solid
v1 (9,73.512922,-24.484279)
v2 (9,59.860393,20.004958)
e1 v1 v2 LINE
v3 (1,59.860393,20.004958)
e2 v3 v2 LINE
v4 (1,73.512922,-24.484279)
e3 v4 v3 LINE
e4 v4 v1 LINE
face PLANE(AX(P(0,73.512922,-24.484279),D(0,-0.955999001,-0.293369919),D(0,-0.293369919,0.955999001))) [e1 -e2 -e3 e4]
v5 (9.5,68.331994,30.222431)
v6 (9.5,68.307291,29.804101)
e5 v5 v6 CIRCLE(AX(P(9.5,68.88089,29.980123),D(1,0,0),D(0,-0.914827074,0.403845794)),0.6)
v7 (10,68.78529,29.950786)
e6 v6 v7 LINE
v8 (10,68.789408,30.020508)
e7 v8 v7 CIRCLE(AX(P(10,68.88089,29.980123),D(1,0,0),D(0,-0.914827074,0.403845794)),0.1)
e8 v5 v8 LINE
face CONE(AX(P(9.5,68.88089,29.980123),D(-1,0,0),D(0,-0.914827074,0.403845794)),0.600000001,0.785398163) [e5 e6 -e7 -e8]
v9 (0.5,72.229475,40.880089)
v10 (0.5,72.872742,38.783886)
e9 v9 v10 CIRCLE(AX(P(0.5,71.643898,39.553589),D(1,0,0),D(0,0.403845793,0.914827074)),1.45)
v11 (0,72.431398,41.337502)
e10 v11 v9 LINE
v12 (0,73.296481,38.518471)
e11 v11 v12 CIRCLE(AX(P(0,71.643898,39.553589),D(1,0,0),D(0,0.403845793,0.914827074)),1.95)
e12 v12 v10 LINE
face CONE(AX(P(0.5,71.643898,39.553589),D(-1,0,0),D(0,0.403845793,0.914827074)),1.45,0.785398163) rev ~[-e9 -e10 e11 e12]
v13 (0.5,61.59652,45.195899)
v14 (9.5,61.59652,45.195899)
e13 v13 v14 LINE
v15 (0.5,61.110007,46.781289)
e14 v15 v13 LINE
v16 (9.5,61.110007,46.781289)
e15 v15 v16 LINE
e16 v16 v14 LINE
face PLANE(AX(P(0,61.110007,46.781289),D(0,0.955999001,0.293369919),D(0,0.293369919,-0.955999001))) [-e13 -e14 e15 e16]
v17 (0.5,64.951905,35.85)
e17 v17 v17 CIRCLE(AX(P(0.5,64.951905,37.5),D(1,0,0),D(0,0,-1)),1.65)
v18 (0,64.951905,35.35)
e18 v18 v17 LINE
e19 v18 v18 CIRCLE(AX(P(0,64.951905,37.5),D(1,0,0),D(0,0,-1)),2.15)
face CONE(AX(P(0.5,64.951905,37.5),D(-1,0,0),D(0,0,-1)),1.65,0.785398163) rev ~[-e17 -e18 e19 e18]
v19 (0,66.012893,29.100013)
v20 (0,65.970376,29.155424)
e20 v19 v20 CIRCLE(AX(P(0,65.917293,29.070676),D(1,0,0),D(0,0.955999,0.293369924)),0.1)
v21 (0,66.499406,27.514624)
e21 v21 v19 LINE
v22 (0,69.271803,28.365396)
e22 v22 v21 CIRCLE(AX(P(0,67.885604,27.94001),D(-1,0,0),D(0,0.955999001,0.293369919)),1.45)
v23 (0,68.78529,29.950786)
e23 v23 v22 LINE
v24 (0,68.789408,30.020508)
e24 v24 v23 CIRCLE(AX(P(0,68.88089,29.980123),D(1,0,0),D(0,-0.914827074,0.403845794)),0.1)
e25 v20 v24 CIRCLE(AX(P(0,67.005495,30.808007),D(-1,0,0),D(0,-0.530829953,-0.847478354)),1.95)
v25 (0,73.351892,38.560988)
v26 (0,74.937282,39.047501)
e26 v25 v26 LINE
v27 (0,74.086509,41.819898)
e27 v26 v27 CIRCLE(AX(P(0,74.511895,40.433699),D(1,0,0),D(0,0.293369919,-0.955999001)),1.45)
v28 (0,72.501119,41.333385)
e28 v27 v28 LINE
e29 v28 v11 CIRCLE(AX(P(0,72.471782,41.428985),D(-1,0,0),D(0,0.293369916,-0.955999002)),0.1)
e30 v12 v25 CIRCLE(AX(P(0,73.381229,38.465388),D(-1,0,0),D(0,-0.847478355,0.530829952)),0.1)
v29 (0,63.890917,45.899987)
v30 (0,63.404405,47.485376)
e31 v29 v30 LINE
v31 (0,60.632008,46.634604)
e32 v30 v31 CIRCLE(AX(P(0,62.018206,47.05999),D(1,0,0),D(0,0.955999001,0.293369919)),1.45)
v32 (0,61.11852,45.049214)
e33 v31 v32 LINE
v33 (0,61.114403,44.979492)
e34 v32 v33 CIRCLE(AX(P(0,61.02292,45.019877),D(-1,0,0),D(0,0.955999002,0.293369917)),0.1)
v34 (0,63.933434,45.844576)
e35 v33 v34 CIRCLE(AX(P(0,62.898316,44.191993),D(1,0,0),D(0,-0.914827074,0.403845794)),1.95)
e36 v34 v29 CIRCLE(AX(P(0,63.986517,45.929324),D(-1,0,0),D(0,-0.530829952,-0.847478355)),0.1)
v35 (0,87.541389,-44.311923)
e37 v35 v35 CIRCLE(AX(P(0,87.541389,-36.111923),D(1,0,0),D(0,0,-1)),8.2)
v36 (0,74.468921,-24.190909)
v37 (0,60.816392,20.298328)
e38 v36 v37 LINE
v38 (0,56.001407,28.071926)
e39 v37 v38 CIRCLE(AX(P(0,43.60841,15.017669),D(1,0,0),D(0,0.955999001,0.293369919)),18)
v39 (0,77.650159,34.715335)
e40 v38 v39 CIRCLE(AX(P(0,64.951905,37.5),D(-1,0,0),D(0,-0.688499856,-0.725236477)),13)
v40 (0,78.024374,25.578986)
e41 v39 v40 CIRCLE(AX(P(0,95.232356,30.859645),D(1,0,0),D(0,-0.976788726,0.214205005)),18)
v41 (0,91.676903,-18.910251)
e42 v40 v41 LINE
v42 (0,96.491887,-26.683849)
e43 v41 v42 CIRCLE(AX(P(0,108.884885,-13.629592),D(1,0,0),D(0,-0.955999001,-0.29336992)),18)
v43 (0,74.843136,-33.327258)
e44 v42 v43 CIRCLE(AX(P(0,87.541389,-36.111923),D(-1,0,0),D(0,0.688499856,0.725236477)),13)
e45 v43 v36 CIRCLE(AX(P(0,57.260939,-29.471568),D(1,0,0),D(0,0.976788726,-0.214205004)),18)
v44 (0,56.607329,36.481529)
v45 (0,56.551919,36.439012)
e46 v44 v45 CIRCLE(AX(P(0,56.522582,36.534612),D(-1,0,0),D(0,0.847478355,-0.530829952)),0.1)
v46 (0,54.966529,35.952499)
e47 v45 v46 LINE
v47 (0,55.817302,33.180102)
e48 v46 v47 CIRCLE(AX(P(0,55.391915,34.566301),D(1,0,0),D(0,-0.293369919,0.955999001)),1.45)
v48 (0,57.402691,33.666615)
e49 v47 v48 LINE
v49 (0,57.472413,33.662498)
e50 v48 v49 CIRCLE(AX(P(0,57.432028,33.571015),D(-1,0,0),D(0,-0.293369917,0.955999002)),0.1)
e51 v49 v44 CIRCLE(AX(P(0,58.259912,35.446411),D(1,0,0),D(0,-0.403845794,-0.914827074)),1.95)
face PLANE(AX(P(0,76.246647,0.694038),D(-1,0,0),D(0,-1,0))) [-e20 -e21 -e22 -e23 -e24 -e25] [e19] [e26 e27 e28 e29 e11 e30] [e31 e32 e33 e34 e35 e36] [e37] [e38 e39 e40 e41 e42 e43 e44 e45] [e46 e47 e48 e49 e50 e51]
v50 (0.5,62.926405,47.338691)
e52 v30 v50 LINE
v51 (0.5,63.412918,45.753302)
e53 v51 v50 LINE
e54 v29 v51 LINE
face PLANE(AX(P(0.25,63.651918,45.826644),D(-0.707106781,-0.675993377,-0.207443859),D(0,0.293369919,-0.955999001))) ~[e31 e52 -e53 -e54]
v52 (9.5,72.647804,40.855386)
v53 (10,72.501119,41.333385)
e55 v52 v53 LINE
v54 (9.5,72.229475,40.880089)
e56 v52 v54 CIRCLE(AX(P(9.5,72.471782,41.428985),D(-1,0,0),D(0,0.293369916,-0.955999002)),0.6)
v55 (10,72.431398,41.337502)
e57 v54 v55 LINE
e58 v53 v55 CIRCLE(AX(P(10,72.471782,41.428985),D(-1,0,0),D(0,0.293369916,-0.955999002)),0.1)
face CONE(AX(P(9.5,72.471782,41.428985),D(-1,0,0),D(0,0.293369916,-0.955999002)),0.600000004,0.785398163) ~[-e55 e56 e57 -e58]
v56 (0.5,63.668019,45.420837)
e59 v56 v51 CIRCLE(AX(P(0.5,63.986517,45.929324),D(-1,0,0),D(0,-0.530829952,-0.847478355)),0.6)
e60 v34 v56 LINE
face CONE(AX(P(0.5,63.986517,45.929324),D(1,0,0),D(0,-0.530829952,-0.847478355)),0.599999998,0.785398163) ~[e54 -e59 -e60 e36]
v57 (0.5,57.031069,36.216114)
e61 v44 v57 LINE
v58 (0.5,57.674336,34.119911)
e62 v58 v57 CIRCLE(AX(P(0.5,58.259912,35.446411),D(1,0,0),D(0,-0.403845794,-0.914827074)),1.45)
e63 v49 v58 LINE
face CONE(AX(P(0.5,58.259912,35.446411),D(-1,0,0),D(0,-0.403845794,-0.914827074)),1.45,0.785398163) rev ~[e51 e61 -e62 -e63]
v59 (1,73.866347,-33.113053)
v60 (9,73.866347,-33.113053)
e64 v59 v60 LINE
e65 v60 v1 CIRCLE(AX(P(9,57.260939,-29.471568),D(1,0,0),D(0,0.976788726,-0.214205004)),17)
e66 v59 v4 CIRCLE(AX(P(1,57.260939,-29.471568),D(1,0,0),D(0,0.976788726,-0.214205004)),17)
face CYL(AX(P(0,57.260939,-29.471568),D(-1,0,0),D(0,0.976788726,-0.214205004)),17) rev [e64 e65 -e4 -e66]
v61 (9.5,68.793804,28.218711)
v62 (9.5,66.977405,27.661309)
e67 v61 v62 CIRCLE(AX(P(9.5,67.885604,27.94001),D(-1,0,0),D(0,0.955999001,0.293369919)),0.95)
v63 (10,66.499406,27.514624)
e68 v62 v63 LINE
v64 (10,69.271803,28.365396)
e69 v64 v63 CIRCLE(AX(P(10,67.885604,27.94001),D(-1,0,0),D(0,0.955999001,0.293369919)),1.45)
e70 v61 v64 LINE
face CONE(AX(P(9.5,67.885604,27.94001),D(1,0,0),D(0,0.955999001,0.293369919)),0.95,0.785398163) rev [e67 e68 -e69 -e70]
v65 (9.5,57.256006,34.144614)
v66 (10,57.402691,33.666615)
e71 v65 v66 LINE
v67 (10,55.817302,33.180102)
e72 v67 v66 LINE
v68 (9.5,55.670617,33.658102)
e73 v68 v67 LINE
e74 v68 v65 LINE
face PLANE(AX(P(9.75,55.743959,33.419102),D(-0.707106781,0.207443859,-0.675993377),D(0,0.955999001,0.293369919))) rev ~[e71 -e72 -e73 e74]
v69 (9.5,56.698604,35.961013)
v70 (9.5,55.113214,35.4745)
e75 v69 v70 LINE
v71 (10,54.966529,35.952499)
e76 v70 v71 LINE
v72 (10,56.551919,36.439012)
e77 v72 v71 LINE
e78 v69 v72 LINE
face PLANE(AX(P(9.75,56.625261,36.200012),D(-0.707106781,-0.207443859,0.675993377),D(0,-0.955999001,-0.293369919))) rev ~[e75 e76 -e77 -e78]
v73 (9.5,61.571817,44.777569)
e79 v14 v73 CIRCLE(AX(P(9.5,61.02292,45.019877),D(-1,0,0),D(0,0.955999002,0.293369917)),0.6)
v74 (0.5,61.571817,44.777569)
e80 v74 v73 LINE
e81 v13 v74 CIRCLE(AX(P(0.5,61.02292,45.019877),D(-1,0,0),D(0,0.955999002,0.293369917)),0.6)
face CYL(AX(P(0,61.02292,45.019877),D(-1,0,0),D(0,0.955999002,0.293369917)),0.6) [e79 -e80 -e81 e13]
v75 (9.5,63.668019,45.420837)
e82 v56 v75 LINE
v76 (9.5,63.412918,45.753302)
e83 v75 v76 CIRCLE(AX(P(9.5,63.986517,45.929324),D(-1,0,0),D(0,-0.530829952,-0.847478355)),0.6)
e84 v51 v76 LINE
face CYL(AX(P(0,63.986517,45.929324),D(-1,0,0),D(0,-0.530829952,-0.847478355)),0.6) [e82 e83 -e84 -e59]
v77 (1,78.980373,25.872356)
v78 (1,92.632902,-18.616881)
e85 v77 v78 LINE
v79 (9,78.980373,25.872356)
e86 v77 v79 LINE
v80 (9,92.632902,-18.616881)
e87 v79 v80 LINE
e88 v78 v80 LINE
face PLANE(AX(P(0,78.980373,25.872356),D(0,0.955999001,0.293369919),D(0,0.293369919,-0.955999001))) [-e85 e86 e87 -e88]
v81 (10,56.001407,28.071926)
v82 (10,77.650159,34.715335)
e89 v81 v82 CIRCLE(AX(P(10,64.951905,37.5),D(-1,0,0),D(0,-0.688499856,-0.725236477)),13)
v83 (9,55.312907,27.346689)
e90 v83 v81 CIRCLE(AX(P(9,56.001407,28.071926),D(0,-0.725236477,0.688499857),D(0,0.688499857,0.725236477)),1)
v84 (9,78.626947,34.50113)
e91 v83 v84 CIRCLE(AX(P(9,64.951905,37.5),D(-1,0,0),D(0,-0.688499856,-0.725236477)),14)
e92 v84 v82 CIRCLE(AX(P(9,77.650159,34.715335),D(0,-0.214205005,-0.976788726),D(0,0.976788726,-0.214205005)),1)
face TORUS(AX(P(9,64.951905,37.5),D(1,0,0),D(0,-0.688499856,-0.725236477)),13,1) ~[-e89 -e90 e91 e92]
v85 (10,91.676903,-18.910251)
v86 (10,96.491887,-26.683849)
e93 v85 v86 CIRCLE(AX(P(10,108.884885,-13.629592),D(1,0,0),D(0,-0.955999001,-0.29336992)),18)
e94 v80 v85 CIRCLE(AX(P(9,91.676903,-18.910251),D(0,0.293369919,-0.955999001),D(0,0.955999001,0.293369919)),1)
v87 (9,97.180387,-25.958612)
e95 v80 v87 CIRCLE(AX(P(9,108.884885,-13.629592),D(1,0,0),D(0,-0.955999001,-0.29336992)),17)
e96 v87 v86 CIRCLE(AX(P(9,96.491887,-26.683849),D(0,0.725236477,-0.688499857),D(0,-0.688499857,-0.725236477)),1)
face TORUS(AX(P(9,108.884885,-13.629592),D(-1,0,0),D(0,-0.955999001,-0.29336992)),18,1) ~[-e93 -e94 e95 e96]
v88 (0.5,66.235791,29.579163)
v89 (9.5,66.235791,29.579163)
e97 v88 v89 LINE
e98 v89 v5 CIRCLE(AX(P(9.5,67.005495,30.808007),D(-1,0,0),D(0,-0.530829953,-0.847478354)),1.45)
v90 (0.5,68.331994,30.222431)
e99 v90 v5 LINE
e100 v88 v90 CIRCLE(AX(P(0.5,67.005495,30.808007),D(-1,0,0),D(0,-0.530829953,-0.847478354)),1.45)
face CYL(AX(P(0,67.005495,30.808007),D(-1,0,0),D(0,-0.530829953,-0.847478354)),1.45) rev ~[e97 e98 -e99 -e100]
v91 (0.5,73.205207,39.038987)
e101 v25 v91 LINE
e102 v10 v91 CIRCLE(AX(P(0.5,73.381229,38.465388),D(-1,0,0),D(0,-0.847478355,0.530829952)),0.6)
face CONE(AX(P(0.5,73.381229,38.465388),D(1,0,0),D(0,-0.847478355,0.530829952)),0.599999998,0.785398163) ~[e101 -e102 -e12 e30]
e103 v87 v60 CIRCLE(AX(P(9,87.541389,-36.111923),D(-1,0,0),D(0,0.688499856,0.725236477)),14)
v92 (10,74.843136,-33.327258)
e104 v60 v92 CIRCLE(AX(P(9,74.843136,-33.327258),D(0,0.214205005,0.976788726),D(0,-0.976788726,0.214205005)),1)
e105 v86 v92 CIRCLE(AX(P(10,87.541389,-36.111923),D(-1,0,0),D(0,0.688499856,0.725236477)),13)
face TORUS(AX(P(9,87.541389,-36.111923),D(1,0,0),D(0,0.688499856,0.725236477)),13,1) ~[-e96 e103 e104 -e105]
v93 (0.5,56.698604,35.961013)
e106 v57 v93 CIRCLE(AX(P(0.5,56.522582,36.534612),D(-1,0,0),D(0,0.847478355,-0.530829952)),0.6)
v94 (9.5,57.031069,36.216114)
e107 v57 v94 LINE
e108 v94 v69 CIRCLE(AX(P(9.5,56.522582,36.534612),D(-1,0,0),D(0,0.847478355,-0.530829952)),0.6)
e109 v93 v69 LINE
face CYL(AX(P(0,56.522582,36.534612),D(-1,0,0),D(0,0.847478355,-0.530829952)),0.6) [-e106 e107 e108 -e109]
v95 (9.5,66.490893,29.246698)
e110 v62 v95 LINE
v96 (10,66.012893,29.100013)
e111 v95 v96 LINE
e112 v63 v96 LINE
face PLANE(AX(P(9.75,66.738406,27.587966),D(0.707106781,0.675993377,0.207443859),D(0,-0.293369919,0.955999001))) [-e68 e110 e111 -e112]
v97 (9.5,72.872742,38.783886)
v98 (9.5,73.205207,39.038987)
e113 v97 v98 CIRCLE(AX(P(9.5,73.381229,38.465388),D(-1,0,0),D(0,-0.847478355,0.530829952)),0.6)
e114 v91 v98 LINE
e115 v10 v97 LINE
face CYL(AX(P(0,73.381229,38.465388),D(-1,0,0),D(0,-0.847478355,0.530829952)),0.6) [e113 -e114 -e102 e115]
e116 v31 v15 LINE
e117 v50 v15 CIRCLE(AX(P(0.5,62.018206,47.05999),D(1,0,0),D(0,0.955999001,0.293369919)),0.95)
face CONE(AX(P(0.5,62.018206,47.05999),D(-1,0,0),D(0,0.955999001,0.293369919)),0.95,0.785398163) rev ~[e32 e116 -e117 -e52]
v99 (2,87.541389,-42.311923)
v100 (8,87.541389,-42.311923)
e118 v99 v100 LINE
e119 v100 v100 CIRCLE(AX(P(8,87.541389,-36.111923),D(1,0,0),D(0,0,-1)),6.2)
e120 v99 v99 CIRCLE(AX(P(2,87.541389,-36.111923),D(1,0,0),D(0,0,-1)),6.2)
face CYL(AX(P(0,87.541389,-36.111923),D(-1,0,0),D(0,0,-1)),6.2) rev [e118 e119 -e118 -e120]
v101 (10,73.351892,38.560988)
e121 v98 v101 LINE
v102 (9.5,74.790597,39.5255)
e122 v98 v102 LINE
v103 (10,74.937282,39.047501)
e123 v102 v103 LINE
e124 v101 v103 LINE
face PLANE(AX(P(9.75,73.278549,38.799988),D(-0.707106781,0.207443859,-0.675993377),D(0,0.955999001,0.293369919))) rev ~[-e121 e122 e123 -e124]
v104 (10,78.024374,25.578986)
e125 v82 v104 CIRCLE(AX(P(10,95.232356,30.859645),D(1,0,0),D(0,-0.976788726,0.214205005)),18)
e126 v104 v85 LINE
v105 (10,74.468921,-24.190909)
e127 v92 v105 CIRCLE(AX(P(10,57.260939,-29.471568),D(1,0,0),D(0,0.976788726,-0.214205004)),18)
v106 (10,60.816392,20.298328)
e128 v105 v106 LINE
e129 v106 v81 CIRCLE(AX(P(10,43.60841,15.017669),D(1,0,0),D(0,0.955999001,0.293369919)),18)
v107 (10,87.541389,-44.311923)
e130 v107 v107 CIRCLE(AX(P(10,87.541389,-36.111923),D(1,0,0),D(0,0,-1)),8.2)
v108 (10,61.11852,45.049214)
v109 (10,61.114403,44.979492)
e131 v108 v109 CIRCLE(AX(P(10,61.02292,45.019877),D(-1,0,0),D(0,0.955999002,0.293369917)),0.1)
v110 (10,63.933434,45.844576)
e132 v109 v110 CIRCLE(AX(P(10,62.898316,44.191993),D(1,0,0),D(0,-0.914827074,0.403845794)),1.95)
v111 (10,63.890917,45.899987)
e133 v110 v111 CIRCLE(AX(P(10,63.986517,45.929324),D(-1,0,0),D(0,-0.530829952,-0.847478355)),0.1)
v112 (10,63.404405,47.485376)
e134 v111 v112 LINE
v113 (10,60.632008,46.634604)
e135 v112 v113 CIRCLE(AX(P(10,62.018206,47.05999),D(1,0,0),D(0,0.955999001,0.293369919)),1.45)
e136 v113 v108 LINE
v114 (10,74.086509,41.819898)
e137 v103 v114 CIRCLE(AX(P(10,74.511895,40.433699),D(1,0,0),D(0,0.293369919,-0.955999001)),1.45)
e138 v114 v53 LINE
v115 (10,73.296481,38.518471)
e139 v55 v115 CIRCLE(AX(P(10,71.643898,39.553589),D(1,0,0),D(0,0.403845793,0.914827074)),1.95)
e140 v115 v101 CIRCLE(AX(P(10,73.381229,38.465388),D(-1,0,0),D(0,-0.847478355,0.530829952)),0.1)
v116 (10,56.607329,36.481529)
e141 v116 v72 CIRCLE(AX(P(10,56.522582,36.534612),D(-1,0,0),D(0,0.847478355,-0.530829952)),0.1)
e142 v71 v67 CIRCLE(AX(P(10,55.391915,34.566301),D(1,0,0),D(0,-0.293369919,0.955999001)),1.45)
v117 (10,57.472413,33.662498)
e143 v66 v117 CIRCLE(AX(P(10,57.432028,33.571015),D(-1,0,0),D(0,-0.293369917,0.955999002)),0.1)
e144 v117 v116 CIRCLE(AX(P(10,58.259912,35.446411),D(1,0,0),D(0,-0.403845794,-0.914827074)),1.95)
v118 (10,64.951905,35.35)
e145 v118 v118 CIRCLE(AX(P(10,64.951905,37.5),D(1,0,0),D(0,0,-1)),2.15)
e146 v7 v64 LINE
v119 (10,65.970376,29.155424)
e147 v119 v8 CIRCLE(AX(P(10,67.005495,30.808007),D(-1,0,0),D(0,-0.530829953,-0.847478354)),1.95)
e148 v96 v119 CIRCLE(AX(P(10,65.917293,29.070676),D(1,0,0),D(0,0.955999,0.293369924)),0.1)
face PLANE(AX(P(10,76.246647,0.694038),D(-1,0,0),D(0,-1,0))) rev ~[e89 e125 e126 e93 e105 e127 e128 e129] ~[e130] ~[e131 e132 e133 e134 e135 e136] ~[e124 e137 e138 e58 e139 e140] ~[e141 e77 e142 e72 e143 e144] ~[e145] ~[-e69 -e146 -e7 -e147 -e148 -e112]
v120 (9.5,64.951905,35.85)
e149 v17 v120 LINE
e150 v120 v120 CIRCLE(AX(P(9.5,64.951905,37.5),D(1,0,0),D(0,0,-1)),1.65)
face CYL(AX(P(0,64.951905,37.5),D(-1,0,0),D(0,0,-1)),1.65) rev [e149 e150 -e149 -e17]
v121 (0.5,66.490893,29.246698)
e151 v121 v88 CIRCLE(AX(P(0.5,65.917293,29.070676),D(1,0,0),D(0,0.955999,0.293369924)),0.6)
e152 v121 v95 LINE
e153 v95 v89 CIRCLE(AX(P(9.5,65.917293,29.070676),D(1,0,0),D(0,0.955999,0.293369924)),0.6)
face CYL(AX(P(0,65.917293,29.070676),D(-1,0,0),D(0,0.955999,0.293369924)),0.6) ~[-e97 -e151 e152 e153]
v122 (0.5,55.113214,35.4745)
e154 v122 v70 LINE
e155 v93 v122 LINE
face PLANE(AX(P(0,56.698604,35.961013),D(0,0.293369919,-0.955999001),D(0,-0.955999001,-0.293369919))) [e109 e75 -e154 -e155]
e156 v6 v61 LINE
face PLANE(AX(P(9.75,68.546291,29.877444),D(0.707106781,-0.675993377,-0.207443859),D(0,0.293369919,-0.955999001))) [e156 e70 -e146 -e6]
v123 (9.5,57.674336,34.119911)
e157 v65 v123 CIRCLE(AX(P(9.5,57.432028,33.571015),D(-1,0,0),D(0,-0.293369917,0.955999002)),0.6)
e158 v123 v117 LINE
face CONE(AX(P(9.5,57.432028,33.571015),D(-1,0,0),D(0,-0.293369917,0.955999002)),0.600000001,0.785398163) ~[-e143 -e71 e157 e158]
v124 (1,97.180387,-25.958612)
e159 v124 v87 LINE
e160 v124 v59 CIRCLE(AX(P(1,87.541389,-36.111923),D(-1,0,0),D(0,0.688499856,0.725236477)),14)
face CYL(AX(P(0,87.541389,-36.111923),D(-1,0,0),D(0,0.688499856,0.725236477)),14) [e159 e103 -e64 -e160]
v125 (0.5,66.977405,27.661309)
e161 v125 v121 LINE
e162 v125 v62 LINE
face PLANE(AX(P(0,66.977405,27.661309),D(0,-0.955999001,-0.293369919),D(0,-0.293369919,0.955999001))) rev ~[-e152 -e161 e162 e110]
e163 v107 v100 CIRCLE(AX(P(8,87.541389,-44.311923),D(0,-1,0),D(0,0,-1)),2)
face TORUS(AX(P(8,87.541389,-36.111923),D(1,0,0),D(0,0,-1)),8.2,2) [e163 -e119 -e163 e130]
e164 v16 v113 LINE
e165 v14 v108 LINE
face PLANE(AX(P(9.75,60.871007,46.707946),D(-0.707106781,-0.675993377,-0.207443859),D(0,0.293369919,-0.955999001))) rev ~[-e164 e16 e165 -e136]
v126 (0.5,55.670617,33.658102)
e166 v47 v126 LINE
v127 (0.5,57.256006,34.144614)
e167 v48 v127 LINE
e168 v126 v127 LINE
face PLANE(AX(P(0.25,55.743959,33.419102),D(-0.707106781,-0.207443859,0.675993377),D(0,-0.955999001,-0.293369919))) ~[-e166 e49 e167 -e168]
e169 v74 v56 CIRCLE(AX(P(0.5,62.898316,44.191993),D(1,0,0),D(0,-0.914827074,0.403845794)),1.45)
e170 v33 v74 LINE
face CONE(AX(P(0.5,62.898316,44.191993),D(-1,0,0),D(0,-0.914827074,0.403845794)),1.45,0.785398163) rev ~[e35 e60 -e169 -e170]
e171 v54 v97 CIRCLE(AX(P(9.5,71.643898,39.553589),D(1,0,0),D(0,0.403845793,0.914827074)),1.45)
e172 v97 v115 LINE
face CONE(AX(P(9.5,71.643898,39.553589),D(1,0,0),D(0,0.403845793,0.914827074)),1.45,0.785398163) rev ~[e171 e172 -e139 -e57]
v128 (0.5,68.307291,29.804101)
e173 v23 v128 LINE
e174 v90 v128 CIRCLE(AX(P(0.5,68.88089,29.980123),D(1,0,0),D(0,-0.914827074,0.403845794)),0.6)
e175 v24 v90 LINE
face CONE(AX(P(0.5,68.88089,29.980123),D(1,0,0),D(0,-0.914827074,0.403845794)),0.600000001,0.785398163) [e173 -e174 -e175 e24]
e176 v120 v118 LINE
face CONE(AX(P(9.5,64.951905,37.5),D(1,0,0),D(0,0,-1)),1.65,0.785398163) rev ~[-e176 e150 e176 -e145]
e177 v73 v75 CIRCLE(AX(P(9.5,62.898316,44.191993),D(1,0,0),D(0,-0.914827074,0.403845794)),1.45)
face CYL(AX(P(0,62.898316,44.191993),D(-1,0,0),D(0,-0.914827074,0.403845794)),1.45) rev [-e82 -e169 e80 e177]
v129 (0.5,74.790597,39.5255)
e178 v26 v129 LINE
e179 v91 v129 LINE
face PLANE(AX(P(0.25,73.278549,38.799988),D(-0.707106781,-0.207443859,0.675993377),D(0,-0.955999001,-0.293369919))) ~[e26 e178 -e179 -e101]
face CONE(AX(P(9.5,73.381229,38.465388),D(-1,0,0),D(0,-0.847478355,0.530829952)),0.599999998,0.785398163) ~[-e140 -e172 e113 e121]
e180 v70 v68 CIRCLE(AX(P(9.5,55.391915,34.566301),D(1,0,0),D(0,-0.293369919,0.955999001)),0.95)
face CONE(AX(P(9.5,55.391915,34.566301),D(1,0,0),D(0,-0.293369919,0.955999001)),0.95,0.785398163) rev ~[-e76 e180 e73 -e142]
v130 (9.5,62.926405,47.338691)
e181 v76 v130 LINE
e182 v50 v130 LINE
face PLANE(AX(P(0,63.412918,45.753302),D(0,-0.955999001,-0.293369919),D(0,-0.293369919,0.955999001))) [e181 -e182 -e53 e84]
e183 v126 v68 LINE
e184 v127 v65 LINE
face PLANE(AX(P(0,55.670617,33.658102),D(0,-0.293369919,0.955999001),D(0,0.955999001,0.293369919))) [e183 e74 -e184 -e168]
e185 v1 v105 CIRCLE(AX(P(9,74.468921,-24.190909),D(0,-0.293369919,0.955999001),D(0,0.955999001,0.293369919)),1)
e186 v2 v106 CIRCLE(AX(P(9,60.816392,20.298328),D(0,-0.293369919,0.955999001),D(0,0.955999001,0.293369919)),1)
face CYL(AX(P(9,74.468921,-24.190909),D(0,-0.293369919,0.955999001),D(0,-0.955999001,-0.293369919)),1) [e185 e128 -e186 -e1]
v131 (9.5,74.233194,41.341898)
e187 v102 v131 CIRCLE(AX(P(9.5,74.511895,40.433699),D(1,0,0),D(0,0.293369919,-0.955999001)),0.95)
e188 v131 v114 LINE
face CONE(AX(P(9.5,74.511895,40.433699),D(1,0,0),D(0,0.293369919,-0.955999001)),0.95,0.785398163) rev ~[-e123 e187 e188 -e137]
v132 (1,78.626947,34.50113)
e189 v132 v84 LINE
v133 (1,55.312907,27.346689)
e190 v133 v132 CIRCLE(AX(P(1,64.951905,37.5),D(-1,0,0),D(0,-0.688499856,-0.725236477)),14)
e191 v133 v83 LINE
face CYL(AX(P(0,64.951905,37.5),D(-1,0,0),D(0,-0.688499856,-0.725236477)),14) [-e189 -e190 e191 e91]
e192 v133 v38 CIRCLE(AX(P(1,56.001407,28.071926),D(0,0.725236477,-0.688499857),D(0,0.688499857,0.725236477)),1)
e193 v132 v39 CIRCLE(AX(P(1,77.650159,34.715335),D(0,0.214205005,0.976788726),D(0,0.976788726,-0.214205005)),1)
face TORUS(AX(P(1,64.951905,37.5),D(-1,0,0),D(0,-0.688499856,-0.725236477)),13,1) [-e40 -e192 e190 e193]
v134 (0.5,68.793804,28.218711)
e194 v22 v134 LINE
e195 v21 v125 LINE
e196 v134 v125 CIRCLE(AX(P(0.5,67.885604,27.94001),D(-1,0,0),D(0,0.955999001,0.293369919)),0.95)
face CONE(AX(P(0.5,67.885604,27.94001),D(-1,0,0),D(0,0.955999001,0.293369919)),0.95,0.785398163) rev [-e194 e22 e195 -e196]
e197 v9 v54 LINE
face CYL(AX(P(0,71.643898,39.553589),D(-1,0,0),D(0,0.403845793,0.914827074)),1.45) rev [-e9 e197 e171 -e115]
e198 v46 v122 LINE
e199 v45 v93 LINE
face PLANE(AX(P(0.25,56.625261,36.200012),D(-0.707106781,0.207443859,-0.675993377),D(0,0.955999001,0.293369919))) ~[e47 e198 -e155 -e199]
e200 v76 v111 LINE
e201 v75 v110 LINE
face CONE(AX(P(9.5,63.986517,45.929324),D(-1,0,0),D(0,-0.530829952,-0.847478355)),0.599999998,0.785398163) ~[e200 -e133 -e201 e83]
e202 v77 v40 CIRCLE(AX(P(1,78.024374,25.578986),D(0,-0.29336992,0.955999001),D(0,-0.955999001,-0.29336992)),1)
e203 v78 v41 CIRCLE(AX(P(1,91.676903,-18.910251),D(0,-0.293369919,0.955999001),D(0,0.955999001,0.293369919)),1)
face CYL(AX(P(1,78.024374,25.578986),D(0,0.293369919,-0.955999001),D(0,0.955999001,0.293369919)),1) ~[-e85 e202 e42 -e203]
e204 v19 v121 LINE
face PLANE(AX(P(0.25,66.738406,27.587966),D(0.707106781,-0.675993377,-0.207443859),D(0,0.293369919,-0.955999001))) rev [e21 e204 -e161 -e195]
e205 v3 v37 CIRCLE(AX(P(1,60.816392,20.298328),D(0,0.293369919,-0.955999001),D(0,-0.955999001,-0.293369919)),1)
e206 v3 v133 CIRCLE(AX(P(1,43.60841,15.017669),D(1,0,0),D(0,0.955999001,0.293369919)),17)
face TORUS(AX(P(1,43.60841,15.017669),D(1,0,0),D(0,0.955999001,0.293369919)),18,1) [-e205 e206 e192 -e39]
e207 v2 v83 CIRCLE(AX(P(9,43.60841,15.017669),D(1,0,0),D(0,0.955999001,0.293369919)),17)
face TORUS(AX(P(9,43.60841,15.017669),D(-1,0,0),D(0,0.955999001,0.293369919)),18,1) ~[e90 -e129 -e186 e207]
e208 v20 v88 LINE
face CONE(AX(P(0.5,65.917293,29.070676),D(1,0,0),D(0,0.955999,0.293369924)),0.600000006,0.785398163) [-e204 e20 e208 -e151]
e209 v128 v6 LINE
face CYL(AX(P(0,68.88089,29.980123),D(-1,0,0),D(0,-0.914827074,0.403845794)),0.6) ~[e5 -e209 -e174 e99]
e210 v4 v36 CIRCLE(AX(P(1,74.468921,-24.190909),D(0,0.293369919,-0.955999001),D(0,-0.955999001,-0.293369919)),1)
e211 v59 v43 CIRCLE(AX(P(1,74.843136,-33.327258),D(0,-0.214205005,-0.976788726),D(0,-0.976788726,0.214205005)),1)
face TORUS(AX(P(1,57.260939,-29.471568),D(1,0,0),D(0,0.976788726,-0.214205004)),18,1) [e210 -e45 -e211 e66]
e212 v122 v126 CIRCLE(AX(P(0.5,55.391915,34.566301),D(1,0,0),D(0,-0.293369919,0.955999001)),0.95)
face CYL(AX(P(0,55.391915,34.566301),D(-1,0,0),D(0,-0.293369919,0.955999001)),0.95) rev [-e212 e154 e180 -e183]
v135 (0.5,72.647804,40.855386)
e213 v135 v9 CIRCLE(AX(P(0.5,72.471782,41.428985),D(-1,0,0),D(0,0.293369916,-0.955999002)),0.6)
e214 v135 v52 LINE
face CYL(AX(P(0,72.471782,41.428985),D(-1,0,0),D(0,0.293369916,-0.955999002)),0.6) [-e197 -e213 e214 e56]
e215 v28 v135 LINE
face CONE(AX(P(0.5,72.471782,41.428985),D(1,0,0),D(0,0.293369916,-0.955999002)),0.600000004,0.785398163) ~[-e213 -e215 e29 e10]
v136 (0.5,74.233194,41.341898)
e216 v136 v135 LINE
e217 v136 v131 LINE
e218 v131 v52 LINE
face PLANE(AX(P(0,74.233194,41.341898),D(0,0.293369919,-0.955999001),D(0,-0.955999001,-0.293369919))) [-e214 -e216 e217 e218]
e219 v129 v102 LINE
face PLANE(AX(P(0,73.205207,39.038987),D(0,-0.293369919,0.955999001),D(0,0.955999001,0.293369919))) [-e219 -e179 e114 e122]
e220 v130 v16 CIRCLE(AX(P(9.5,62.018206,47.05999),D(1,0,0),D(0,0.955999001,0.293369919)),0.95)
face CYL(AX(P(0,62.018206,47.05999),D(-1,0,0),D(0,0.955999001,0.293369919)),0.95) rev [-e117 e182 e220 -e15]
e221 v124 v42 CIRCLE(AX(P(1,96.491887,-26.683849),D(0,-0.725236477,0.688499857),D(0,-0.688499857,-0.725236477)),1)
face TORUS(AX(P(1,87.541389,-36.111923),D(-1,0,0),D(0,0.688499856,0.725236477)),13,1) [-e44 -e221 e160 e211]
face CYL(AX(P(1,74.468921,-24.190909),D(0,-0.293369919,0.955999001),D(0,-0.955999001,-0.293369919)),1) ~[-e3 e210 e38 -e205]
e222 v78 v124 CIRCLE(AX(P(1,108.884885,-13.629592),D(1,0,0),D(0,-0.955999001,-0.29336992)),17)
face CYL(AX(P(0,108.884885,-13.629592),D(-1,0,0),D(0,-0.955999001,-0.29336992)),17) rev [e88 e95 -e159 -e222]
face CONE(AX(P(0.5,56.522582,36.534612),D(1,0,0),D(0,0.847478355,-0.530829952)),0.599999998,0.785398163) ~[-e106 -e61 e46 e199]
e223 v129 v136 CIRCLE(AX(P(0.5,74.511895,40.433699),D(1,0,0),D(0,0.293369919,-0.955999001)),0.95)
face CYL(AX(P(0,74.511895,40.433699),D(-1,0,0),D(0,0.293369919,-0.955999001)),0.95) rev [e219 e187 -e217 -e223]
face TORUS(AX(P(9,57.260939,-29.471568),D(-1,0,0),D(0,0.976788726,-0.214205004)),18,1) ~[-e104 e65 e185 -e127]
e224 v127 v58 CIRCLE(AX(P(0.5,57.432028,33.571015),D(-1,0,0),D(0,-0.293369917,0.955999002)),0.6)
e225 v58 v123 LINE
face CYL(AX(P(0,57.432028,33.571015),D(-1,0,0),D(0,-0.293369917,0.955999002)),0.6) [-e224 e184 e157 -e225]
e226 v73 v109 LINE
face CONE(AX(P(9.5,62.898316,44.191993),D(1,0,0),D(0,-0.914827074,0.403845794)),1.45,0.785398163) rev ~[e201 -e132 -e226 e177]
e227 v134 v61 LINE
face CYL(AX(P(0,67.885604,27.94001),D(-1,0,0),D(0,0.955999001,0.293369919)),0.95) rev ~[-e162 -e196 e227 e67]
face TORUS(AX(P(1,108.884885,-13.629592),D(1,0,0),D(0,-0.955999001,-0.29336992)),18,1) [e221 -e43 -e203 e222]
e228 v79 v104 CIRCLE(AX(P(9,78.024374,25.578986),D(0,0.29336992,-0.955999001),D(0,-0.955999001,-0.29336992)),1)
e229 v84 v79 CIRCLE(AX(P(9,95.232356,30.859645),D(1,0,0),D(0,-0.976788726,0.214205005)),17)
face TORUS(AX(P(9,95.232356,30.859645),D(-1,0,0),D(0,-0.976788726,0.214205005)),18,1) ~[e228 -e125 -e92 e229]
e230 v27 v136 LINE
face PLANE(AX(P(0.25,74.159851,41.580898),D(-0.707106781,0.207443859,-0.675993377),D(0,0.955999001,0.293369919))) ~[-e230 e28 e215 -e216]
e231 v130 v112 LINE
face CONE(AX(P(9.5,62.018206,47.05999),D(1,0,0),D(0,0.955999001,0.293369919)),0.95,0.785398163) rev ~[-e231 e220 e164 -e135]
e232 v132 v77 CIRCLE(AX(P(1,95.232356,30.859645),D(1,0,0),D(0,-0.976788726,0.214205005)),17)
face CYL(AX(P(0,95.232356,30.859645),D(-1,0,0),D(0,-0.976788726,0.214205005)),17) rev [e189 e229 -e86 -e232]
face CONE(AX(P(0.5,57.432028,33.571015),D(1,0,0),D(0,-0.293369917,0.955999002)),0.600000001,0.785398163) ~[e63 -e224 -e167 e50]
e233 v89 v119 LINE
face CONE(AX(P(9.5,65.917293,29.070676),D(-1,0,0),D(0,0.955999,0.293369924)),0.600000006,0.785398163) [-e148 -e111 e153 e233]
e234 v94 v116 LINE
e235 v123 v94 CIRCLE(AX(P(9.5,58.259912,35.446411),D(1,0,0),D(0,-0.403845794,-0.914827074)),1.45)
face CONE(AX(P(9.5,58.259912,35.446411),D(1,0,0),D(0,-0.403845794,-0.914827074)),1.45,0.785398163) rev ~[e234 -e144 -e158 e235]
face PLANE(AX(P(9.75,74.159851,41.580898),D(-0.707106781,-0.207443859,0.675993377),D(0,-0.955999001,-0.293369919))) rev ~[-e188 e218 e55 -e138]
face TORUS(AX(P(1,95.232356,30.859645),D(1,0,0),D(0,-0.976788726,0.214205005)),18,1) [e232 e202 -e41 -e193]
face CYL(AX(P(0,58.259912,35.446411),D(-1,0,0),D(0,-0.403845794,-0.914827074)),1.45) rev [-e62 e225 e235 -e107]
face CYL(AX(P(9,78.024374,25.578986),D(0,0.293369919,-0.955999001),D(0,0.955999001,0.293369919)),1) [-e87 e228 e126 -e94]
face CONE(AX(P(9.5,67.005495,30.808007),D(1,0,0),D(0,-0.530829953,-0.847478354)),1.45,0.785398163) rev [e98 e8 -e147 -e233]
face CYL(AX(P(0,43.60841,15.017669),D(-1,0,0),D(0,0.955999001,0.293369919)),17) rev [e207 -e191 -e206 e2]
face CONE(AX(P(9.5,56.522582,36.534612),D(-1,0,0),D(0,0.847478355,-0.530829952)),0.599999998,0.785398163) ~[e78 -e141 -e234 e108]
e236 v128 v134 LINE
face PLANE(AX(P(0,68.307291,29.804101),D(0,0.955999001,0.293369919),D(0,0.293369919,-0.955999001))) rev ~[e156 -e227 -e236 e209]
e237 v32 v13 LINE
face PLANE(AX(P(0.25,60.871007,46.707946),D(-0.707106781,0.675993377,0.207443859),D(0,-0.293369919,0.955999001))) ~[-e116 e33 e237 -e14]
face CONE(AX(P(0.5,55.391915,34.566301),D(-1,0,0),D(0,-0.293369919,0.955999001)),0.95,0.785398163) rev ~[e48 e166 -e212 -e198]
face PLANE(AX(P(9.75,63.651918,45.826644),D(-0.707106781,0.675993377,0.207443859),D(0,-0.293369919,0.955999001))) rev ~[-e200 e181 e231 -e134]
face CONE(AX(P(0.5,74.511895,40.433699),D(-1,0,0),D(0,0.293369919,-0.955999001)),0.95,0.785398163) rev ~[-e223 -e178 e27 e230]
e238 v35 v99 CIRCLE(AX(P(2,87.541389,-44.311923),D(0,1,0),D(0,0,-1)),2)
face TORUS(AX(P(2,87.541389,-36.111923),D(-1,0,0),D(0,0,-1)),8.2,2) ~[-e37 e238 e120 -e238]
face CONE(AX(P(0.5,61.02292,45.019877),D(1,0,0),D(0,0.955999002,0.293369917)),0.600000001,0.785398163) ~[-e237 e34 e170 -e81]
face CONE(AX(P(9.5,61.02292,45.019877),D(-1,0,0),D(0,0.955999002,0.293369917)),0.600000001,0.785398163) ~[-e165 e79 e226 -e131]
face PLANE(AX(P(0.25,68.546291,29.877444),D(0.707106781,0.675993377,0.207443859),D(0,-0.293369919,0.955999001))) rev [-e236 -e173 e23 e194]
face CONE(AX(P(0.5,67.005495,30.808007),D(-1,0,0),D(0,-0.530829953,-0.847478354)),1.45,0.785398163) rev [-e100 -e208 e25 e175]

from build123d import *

# Parameters (mm, degrees)
SKETCH3_R           = 6.2
SKETCH3_R_2         = 1.65
BOSS_EXTRUDE2_DEPTH = 10
FILLET2_R           = 1
FILLET3_R           = 2
CHAMFER1_SIZE       = 0.5


with BuildPart() as part:
    # Sketch3 → Boss-Extrude2 (new body)
    with BuildSketch(Plane.YZ):
        with BuildLine():
            Line((73.512921579, -24.484279325), (59.860392755, 20.00495784))
            ThreePointArc((59.860392755, 20.00495784), (58.060622606, 23.969403294), (55.312907294, 27.346689321))
            ThreePointArc((55.312907294, 27.346689321), (60.844726413, 50.883986018), (78.626947453, 34.501129936))
            ThreePointArc((78.626947453, 34.501129936), (78.246597772, 30.163926405), (78.980372781, 25.872356228))
            Line((78.980372781, 25.872356228), (92.632901604, -18.616880937))
            ThreePointArc((92.632901604, -18.616880937), (94.432671754, -22.581326391), (97.180387066, -25.958612418))
            ThreePointArc((97.180387066, -25.958612418), (91.648567947, -49.495909114), (73.866346907, -33.113053032))
            ThreePointArc((73.866346907, -33.113053032), (74.246696587, -28.775849502), (73.512921579, -24.484279325))
        make_face()
        with Locations(Location((87.541389076, -36.111923097, 0), (0, 0, 270))):
            Circle(SKETCH3_R, mode=Mode.SUBTRACT)
        with Locations(Location((64.951905284, 37.5, 0), (0, 0, 270))):
            Circle(SKETCH3_R_2, mode=Mode.SUBTRACT)
        with BuildLine():
            Line((66.977405426, 27.661308564), (66.490892718, 29.246698316))
            ThreePointArc((66.490892718, 29.246698316), (66.393310842, 29.435926026), (66.235791288, 29.579163377))
            ThreePointArc((66.235791288, 29.579163377), (66.580108336, 32.194205543), (68.331993977, 30.22243059))
            ThreePointArc((68.331993977, 30.22243059), (68.281933632, 30.015492652), (68.30729082, 29.804101163))
            Line((68.30729082, 29.804101163), (68.793803529, 28.218711411))
            ThreePointArc((68.793803529, 28.218711411), (68.164305901, 27.031810936), (66.977405426, 27.661308564))
        make_face(mode=Mode.SUBTRACT)
        with BuildLine():
            Line((55.670616695, 33.658101755), (57.256006447, 34.144614464))
            ThreePointArc((57.256006447, 34.144614464), (57.467397936, 34.169971652), (57.674335874, 34.119911307))
            ThreePointArc((57.674335874, 34.119911307), (59.646110827, 35.871796947), (57.031068661, 36.216113995))
            ThreePointArc((57.031068661, 36.216113995), (56.88783131, 36.058594441), (56.6986036, 35.961012566))
            Line((56.6986036, 35.961012566), (55.113213848, 35.474499857))
            ThreePointArc((55.113213848, 35.474499857), (54.48371622, 34.287599383), (55.670616695, 33.658101755))
        make_face(mode=Mode.SUBTRACT)
        with BuildLine():
            Line((61.110007039, 46.781288589), (61.596519748, 45.195898837))
            ThreePointArc((61.596519748, 45.195898837), (61.621876936, 44.984507348), (61.571816591, 44.77756941))
            ThreePointArc((61.571816591, 44.77756941), (63.323702231, 42.805794457), (63.668019279, 45.420836623))
            ThreePointArc((63.668019279, 45.420836623), (63.510499725, 45.564073974), (63.41291785, 45.753301684))
            Line((63.41291785, 45.753301684), (62.926405141, 47.338691436))
            ThreePointArc((62.926405141, 47.338691436), (61.739504667, 47.968189064), (61.110007039, 46.781288589))
        make_face(mode=Mode.SUBTRACT)
        with BuildLine():
            Line((74.233193873, 41.341898245), (72.647804121, 40.855385536))
            ThreePointArc((72.647804121, 40.855385536), (72.436412632, 40.830028348), (72.229474693, 40.880088693))
            ThreePointArc((72.229474693, 40.880088693), (70.257699741, 39.128203053), (72.872741907, 38.783886005))
            ThreePointArc((72.872741907, 38.783886005), (73.015979258, 38.941405559), (73.205206968, 39.038987434))
            Line((73.205206968, 39.038987434), (74.79059672, 39.525500143))
            ThreePointArc((74.79059672, 39.525500143), (75.420094348, 40.712400617), (74.233193873, 41.341898245))
        make_face(mode=Mode.SUBTRACT)
    extrude(amount=BOSS_EXTRUDE2_DEPTH)

    # Fillet2
    fillet2_edges = [part.edges().sort_by_distance(p)[0] for p in [
        (0, 66.686657167, -2.239660742),
        (0, 58.060622606, 23.969403294),
        (0, 60.844726413, 50.883986018),
        (0, 78.246597772, 30.163926405),
        (10, 58.060622606, 23.969403294),
        (10, 66.686657167, -2.239660742),
        (10, 74.246696587, -28.775849502),
        (10, 91.648567947, -49.495909114),
        (10, 94.432671754, -22.581326391),
        (10, 85.806637192, 3.627737645),
        (10, 78.246597772, 30.163926405),
        (0, 85.806637192, 3.627737645),
        (10, 60.844726413, 50.883986018),
        (0, 94.432671754, -22.581326391),
        (0, 91.648567947, -49.495909114),
        (0, 74.246696587, -28.775849502),
    ]]
    fillet(fillet2_edges, radius=FILLET2_R)

    # Fillet3
    fillet3_edges = [part.edges().sort_by_distance(p)[0] for p in [
        (0, 87.541389076, -29.911923097),
        (10, 87.541389076, -29.911923097),
    ]]
    fillet(fillet3_edges, radius=FILLET3_R)

    # Chamfer1
    chamfer1_edges = [part.edges().sort_by_distance(p)[0] for p in [
        (0, 68.164305901, 27.031810936),
        (0, 68.550547174, 29.011406287),
        (0, 68.281933632, 30.015492652),
        (0, 66.580108336, 32.194205543),
        (0, 66.393310842, 29.435926026),
        (0, 66.734149072, 28.45400344),
        (10, 68.164305901, 27.031810936),
        (10, 68.550547174, 29.011406287),
        (10, 68.281933632, 30.015492652),
        (10, 66.580108336, 32.194205543),
        (10, 66.393310842, 29.435926026),
        (10, 66.734149072, 28.45400344),
        (0, 64.951905284, 39.15),
        (10, 64.951905284, 39.15),
        (0, 54.48371622, 34.287599383),
        (0, 56.463311571, 33.901358109),
        (0, 57.467397936, 34.169971652),
        (0, 59.646110827, 35.871796947),
        (0, 56.88783131, 36.058594441),
        (0, 55.905908724, 35.717756212),
        (10, 54.48371622, 34.287599383),
        (10, 56.463311571, 33.901358109),
        (10, 57.467397936, 34.169971652),
        (10, 59.646110827, 35.871796947),
        (10, 56.88783131, 36.058594441),
        (10, 55.905908724, 35.717756212),
        (0, 61.739504667, 47.968189064),
        (0, 61.353263393, 45.988593713),
        (0, 61.621876936, 44.984507348),
        (0, 63.323702231, 42.805794457),
        (0, 63.510499725, 45.564073974),
        (0, 63.169661496, 46.54599656),
        (10, 61.739504667, 47.968189064),
        (10, 61.353263393, 45.988593713),
        (10, 61.621876936, 44.984507348),
        (10, 63.323702231, 42.805794457),
        (10, 63.510499725, 45.564073974),
        (10, 63.169661496, 46.54599656),
        (0, 75.420094348, 40.712400617),
        (0, 73.440498997, 41.098641891),
        (0, 72.436412632, 40.830028348),
        (0, 70.257699741, 39.128203053),
        (0, 73.015979258, 38.941405559),
        (0, 73.997901844, 39.282243788),
        (10, 75.420094348, 40.712400617),
        (10, 73.440498997, 41.098641891),
        (10, 72.436412632, 40.830028348),
        (10, 70.257699741, 39.128203053),
        (10, 73.015979258, 38.941405559),
        (10, 73.997901844, 39.282243788),
    ]]
    chamfer(chamfer1_edges, length=CHAMFER1_SIZE)


solid = part.part
